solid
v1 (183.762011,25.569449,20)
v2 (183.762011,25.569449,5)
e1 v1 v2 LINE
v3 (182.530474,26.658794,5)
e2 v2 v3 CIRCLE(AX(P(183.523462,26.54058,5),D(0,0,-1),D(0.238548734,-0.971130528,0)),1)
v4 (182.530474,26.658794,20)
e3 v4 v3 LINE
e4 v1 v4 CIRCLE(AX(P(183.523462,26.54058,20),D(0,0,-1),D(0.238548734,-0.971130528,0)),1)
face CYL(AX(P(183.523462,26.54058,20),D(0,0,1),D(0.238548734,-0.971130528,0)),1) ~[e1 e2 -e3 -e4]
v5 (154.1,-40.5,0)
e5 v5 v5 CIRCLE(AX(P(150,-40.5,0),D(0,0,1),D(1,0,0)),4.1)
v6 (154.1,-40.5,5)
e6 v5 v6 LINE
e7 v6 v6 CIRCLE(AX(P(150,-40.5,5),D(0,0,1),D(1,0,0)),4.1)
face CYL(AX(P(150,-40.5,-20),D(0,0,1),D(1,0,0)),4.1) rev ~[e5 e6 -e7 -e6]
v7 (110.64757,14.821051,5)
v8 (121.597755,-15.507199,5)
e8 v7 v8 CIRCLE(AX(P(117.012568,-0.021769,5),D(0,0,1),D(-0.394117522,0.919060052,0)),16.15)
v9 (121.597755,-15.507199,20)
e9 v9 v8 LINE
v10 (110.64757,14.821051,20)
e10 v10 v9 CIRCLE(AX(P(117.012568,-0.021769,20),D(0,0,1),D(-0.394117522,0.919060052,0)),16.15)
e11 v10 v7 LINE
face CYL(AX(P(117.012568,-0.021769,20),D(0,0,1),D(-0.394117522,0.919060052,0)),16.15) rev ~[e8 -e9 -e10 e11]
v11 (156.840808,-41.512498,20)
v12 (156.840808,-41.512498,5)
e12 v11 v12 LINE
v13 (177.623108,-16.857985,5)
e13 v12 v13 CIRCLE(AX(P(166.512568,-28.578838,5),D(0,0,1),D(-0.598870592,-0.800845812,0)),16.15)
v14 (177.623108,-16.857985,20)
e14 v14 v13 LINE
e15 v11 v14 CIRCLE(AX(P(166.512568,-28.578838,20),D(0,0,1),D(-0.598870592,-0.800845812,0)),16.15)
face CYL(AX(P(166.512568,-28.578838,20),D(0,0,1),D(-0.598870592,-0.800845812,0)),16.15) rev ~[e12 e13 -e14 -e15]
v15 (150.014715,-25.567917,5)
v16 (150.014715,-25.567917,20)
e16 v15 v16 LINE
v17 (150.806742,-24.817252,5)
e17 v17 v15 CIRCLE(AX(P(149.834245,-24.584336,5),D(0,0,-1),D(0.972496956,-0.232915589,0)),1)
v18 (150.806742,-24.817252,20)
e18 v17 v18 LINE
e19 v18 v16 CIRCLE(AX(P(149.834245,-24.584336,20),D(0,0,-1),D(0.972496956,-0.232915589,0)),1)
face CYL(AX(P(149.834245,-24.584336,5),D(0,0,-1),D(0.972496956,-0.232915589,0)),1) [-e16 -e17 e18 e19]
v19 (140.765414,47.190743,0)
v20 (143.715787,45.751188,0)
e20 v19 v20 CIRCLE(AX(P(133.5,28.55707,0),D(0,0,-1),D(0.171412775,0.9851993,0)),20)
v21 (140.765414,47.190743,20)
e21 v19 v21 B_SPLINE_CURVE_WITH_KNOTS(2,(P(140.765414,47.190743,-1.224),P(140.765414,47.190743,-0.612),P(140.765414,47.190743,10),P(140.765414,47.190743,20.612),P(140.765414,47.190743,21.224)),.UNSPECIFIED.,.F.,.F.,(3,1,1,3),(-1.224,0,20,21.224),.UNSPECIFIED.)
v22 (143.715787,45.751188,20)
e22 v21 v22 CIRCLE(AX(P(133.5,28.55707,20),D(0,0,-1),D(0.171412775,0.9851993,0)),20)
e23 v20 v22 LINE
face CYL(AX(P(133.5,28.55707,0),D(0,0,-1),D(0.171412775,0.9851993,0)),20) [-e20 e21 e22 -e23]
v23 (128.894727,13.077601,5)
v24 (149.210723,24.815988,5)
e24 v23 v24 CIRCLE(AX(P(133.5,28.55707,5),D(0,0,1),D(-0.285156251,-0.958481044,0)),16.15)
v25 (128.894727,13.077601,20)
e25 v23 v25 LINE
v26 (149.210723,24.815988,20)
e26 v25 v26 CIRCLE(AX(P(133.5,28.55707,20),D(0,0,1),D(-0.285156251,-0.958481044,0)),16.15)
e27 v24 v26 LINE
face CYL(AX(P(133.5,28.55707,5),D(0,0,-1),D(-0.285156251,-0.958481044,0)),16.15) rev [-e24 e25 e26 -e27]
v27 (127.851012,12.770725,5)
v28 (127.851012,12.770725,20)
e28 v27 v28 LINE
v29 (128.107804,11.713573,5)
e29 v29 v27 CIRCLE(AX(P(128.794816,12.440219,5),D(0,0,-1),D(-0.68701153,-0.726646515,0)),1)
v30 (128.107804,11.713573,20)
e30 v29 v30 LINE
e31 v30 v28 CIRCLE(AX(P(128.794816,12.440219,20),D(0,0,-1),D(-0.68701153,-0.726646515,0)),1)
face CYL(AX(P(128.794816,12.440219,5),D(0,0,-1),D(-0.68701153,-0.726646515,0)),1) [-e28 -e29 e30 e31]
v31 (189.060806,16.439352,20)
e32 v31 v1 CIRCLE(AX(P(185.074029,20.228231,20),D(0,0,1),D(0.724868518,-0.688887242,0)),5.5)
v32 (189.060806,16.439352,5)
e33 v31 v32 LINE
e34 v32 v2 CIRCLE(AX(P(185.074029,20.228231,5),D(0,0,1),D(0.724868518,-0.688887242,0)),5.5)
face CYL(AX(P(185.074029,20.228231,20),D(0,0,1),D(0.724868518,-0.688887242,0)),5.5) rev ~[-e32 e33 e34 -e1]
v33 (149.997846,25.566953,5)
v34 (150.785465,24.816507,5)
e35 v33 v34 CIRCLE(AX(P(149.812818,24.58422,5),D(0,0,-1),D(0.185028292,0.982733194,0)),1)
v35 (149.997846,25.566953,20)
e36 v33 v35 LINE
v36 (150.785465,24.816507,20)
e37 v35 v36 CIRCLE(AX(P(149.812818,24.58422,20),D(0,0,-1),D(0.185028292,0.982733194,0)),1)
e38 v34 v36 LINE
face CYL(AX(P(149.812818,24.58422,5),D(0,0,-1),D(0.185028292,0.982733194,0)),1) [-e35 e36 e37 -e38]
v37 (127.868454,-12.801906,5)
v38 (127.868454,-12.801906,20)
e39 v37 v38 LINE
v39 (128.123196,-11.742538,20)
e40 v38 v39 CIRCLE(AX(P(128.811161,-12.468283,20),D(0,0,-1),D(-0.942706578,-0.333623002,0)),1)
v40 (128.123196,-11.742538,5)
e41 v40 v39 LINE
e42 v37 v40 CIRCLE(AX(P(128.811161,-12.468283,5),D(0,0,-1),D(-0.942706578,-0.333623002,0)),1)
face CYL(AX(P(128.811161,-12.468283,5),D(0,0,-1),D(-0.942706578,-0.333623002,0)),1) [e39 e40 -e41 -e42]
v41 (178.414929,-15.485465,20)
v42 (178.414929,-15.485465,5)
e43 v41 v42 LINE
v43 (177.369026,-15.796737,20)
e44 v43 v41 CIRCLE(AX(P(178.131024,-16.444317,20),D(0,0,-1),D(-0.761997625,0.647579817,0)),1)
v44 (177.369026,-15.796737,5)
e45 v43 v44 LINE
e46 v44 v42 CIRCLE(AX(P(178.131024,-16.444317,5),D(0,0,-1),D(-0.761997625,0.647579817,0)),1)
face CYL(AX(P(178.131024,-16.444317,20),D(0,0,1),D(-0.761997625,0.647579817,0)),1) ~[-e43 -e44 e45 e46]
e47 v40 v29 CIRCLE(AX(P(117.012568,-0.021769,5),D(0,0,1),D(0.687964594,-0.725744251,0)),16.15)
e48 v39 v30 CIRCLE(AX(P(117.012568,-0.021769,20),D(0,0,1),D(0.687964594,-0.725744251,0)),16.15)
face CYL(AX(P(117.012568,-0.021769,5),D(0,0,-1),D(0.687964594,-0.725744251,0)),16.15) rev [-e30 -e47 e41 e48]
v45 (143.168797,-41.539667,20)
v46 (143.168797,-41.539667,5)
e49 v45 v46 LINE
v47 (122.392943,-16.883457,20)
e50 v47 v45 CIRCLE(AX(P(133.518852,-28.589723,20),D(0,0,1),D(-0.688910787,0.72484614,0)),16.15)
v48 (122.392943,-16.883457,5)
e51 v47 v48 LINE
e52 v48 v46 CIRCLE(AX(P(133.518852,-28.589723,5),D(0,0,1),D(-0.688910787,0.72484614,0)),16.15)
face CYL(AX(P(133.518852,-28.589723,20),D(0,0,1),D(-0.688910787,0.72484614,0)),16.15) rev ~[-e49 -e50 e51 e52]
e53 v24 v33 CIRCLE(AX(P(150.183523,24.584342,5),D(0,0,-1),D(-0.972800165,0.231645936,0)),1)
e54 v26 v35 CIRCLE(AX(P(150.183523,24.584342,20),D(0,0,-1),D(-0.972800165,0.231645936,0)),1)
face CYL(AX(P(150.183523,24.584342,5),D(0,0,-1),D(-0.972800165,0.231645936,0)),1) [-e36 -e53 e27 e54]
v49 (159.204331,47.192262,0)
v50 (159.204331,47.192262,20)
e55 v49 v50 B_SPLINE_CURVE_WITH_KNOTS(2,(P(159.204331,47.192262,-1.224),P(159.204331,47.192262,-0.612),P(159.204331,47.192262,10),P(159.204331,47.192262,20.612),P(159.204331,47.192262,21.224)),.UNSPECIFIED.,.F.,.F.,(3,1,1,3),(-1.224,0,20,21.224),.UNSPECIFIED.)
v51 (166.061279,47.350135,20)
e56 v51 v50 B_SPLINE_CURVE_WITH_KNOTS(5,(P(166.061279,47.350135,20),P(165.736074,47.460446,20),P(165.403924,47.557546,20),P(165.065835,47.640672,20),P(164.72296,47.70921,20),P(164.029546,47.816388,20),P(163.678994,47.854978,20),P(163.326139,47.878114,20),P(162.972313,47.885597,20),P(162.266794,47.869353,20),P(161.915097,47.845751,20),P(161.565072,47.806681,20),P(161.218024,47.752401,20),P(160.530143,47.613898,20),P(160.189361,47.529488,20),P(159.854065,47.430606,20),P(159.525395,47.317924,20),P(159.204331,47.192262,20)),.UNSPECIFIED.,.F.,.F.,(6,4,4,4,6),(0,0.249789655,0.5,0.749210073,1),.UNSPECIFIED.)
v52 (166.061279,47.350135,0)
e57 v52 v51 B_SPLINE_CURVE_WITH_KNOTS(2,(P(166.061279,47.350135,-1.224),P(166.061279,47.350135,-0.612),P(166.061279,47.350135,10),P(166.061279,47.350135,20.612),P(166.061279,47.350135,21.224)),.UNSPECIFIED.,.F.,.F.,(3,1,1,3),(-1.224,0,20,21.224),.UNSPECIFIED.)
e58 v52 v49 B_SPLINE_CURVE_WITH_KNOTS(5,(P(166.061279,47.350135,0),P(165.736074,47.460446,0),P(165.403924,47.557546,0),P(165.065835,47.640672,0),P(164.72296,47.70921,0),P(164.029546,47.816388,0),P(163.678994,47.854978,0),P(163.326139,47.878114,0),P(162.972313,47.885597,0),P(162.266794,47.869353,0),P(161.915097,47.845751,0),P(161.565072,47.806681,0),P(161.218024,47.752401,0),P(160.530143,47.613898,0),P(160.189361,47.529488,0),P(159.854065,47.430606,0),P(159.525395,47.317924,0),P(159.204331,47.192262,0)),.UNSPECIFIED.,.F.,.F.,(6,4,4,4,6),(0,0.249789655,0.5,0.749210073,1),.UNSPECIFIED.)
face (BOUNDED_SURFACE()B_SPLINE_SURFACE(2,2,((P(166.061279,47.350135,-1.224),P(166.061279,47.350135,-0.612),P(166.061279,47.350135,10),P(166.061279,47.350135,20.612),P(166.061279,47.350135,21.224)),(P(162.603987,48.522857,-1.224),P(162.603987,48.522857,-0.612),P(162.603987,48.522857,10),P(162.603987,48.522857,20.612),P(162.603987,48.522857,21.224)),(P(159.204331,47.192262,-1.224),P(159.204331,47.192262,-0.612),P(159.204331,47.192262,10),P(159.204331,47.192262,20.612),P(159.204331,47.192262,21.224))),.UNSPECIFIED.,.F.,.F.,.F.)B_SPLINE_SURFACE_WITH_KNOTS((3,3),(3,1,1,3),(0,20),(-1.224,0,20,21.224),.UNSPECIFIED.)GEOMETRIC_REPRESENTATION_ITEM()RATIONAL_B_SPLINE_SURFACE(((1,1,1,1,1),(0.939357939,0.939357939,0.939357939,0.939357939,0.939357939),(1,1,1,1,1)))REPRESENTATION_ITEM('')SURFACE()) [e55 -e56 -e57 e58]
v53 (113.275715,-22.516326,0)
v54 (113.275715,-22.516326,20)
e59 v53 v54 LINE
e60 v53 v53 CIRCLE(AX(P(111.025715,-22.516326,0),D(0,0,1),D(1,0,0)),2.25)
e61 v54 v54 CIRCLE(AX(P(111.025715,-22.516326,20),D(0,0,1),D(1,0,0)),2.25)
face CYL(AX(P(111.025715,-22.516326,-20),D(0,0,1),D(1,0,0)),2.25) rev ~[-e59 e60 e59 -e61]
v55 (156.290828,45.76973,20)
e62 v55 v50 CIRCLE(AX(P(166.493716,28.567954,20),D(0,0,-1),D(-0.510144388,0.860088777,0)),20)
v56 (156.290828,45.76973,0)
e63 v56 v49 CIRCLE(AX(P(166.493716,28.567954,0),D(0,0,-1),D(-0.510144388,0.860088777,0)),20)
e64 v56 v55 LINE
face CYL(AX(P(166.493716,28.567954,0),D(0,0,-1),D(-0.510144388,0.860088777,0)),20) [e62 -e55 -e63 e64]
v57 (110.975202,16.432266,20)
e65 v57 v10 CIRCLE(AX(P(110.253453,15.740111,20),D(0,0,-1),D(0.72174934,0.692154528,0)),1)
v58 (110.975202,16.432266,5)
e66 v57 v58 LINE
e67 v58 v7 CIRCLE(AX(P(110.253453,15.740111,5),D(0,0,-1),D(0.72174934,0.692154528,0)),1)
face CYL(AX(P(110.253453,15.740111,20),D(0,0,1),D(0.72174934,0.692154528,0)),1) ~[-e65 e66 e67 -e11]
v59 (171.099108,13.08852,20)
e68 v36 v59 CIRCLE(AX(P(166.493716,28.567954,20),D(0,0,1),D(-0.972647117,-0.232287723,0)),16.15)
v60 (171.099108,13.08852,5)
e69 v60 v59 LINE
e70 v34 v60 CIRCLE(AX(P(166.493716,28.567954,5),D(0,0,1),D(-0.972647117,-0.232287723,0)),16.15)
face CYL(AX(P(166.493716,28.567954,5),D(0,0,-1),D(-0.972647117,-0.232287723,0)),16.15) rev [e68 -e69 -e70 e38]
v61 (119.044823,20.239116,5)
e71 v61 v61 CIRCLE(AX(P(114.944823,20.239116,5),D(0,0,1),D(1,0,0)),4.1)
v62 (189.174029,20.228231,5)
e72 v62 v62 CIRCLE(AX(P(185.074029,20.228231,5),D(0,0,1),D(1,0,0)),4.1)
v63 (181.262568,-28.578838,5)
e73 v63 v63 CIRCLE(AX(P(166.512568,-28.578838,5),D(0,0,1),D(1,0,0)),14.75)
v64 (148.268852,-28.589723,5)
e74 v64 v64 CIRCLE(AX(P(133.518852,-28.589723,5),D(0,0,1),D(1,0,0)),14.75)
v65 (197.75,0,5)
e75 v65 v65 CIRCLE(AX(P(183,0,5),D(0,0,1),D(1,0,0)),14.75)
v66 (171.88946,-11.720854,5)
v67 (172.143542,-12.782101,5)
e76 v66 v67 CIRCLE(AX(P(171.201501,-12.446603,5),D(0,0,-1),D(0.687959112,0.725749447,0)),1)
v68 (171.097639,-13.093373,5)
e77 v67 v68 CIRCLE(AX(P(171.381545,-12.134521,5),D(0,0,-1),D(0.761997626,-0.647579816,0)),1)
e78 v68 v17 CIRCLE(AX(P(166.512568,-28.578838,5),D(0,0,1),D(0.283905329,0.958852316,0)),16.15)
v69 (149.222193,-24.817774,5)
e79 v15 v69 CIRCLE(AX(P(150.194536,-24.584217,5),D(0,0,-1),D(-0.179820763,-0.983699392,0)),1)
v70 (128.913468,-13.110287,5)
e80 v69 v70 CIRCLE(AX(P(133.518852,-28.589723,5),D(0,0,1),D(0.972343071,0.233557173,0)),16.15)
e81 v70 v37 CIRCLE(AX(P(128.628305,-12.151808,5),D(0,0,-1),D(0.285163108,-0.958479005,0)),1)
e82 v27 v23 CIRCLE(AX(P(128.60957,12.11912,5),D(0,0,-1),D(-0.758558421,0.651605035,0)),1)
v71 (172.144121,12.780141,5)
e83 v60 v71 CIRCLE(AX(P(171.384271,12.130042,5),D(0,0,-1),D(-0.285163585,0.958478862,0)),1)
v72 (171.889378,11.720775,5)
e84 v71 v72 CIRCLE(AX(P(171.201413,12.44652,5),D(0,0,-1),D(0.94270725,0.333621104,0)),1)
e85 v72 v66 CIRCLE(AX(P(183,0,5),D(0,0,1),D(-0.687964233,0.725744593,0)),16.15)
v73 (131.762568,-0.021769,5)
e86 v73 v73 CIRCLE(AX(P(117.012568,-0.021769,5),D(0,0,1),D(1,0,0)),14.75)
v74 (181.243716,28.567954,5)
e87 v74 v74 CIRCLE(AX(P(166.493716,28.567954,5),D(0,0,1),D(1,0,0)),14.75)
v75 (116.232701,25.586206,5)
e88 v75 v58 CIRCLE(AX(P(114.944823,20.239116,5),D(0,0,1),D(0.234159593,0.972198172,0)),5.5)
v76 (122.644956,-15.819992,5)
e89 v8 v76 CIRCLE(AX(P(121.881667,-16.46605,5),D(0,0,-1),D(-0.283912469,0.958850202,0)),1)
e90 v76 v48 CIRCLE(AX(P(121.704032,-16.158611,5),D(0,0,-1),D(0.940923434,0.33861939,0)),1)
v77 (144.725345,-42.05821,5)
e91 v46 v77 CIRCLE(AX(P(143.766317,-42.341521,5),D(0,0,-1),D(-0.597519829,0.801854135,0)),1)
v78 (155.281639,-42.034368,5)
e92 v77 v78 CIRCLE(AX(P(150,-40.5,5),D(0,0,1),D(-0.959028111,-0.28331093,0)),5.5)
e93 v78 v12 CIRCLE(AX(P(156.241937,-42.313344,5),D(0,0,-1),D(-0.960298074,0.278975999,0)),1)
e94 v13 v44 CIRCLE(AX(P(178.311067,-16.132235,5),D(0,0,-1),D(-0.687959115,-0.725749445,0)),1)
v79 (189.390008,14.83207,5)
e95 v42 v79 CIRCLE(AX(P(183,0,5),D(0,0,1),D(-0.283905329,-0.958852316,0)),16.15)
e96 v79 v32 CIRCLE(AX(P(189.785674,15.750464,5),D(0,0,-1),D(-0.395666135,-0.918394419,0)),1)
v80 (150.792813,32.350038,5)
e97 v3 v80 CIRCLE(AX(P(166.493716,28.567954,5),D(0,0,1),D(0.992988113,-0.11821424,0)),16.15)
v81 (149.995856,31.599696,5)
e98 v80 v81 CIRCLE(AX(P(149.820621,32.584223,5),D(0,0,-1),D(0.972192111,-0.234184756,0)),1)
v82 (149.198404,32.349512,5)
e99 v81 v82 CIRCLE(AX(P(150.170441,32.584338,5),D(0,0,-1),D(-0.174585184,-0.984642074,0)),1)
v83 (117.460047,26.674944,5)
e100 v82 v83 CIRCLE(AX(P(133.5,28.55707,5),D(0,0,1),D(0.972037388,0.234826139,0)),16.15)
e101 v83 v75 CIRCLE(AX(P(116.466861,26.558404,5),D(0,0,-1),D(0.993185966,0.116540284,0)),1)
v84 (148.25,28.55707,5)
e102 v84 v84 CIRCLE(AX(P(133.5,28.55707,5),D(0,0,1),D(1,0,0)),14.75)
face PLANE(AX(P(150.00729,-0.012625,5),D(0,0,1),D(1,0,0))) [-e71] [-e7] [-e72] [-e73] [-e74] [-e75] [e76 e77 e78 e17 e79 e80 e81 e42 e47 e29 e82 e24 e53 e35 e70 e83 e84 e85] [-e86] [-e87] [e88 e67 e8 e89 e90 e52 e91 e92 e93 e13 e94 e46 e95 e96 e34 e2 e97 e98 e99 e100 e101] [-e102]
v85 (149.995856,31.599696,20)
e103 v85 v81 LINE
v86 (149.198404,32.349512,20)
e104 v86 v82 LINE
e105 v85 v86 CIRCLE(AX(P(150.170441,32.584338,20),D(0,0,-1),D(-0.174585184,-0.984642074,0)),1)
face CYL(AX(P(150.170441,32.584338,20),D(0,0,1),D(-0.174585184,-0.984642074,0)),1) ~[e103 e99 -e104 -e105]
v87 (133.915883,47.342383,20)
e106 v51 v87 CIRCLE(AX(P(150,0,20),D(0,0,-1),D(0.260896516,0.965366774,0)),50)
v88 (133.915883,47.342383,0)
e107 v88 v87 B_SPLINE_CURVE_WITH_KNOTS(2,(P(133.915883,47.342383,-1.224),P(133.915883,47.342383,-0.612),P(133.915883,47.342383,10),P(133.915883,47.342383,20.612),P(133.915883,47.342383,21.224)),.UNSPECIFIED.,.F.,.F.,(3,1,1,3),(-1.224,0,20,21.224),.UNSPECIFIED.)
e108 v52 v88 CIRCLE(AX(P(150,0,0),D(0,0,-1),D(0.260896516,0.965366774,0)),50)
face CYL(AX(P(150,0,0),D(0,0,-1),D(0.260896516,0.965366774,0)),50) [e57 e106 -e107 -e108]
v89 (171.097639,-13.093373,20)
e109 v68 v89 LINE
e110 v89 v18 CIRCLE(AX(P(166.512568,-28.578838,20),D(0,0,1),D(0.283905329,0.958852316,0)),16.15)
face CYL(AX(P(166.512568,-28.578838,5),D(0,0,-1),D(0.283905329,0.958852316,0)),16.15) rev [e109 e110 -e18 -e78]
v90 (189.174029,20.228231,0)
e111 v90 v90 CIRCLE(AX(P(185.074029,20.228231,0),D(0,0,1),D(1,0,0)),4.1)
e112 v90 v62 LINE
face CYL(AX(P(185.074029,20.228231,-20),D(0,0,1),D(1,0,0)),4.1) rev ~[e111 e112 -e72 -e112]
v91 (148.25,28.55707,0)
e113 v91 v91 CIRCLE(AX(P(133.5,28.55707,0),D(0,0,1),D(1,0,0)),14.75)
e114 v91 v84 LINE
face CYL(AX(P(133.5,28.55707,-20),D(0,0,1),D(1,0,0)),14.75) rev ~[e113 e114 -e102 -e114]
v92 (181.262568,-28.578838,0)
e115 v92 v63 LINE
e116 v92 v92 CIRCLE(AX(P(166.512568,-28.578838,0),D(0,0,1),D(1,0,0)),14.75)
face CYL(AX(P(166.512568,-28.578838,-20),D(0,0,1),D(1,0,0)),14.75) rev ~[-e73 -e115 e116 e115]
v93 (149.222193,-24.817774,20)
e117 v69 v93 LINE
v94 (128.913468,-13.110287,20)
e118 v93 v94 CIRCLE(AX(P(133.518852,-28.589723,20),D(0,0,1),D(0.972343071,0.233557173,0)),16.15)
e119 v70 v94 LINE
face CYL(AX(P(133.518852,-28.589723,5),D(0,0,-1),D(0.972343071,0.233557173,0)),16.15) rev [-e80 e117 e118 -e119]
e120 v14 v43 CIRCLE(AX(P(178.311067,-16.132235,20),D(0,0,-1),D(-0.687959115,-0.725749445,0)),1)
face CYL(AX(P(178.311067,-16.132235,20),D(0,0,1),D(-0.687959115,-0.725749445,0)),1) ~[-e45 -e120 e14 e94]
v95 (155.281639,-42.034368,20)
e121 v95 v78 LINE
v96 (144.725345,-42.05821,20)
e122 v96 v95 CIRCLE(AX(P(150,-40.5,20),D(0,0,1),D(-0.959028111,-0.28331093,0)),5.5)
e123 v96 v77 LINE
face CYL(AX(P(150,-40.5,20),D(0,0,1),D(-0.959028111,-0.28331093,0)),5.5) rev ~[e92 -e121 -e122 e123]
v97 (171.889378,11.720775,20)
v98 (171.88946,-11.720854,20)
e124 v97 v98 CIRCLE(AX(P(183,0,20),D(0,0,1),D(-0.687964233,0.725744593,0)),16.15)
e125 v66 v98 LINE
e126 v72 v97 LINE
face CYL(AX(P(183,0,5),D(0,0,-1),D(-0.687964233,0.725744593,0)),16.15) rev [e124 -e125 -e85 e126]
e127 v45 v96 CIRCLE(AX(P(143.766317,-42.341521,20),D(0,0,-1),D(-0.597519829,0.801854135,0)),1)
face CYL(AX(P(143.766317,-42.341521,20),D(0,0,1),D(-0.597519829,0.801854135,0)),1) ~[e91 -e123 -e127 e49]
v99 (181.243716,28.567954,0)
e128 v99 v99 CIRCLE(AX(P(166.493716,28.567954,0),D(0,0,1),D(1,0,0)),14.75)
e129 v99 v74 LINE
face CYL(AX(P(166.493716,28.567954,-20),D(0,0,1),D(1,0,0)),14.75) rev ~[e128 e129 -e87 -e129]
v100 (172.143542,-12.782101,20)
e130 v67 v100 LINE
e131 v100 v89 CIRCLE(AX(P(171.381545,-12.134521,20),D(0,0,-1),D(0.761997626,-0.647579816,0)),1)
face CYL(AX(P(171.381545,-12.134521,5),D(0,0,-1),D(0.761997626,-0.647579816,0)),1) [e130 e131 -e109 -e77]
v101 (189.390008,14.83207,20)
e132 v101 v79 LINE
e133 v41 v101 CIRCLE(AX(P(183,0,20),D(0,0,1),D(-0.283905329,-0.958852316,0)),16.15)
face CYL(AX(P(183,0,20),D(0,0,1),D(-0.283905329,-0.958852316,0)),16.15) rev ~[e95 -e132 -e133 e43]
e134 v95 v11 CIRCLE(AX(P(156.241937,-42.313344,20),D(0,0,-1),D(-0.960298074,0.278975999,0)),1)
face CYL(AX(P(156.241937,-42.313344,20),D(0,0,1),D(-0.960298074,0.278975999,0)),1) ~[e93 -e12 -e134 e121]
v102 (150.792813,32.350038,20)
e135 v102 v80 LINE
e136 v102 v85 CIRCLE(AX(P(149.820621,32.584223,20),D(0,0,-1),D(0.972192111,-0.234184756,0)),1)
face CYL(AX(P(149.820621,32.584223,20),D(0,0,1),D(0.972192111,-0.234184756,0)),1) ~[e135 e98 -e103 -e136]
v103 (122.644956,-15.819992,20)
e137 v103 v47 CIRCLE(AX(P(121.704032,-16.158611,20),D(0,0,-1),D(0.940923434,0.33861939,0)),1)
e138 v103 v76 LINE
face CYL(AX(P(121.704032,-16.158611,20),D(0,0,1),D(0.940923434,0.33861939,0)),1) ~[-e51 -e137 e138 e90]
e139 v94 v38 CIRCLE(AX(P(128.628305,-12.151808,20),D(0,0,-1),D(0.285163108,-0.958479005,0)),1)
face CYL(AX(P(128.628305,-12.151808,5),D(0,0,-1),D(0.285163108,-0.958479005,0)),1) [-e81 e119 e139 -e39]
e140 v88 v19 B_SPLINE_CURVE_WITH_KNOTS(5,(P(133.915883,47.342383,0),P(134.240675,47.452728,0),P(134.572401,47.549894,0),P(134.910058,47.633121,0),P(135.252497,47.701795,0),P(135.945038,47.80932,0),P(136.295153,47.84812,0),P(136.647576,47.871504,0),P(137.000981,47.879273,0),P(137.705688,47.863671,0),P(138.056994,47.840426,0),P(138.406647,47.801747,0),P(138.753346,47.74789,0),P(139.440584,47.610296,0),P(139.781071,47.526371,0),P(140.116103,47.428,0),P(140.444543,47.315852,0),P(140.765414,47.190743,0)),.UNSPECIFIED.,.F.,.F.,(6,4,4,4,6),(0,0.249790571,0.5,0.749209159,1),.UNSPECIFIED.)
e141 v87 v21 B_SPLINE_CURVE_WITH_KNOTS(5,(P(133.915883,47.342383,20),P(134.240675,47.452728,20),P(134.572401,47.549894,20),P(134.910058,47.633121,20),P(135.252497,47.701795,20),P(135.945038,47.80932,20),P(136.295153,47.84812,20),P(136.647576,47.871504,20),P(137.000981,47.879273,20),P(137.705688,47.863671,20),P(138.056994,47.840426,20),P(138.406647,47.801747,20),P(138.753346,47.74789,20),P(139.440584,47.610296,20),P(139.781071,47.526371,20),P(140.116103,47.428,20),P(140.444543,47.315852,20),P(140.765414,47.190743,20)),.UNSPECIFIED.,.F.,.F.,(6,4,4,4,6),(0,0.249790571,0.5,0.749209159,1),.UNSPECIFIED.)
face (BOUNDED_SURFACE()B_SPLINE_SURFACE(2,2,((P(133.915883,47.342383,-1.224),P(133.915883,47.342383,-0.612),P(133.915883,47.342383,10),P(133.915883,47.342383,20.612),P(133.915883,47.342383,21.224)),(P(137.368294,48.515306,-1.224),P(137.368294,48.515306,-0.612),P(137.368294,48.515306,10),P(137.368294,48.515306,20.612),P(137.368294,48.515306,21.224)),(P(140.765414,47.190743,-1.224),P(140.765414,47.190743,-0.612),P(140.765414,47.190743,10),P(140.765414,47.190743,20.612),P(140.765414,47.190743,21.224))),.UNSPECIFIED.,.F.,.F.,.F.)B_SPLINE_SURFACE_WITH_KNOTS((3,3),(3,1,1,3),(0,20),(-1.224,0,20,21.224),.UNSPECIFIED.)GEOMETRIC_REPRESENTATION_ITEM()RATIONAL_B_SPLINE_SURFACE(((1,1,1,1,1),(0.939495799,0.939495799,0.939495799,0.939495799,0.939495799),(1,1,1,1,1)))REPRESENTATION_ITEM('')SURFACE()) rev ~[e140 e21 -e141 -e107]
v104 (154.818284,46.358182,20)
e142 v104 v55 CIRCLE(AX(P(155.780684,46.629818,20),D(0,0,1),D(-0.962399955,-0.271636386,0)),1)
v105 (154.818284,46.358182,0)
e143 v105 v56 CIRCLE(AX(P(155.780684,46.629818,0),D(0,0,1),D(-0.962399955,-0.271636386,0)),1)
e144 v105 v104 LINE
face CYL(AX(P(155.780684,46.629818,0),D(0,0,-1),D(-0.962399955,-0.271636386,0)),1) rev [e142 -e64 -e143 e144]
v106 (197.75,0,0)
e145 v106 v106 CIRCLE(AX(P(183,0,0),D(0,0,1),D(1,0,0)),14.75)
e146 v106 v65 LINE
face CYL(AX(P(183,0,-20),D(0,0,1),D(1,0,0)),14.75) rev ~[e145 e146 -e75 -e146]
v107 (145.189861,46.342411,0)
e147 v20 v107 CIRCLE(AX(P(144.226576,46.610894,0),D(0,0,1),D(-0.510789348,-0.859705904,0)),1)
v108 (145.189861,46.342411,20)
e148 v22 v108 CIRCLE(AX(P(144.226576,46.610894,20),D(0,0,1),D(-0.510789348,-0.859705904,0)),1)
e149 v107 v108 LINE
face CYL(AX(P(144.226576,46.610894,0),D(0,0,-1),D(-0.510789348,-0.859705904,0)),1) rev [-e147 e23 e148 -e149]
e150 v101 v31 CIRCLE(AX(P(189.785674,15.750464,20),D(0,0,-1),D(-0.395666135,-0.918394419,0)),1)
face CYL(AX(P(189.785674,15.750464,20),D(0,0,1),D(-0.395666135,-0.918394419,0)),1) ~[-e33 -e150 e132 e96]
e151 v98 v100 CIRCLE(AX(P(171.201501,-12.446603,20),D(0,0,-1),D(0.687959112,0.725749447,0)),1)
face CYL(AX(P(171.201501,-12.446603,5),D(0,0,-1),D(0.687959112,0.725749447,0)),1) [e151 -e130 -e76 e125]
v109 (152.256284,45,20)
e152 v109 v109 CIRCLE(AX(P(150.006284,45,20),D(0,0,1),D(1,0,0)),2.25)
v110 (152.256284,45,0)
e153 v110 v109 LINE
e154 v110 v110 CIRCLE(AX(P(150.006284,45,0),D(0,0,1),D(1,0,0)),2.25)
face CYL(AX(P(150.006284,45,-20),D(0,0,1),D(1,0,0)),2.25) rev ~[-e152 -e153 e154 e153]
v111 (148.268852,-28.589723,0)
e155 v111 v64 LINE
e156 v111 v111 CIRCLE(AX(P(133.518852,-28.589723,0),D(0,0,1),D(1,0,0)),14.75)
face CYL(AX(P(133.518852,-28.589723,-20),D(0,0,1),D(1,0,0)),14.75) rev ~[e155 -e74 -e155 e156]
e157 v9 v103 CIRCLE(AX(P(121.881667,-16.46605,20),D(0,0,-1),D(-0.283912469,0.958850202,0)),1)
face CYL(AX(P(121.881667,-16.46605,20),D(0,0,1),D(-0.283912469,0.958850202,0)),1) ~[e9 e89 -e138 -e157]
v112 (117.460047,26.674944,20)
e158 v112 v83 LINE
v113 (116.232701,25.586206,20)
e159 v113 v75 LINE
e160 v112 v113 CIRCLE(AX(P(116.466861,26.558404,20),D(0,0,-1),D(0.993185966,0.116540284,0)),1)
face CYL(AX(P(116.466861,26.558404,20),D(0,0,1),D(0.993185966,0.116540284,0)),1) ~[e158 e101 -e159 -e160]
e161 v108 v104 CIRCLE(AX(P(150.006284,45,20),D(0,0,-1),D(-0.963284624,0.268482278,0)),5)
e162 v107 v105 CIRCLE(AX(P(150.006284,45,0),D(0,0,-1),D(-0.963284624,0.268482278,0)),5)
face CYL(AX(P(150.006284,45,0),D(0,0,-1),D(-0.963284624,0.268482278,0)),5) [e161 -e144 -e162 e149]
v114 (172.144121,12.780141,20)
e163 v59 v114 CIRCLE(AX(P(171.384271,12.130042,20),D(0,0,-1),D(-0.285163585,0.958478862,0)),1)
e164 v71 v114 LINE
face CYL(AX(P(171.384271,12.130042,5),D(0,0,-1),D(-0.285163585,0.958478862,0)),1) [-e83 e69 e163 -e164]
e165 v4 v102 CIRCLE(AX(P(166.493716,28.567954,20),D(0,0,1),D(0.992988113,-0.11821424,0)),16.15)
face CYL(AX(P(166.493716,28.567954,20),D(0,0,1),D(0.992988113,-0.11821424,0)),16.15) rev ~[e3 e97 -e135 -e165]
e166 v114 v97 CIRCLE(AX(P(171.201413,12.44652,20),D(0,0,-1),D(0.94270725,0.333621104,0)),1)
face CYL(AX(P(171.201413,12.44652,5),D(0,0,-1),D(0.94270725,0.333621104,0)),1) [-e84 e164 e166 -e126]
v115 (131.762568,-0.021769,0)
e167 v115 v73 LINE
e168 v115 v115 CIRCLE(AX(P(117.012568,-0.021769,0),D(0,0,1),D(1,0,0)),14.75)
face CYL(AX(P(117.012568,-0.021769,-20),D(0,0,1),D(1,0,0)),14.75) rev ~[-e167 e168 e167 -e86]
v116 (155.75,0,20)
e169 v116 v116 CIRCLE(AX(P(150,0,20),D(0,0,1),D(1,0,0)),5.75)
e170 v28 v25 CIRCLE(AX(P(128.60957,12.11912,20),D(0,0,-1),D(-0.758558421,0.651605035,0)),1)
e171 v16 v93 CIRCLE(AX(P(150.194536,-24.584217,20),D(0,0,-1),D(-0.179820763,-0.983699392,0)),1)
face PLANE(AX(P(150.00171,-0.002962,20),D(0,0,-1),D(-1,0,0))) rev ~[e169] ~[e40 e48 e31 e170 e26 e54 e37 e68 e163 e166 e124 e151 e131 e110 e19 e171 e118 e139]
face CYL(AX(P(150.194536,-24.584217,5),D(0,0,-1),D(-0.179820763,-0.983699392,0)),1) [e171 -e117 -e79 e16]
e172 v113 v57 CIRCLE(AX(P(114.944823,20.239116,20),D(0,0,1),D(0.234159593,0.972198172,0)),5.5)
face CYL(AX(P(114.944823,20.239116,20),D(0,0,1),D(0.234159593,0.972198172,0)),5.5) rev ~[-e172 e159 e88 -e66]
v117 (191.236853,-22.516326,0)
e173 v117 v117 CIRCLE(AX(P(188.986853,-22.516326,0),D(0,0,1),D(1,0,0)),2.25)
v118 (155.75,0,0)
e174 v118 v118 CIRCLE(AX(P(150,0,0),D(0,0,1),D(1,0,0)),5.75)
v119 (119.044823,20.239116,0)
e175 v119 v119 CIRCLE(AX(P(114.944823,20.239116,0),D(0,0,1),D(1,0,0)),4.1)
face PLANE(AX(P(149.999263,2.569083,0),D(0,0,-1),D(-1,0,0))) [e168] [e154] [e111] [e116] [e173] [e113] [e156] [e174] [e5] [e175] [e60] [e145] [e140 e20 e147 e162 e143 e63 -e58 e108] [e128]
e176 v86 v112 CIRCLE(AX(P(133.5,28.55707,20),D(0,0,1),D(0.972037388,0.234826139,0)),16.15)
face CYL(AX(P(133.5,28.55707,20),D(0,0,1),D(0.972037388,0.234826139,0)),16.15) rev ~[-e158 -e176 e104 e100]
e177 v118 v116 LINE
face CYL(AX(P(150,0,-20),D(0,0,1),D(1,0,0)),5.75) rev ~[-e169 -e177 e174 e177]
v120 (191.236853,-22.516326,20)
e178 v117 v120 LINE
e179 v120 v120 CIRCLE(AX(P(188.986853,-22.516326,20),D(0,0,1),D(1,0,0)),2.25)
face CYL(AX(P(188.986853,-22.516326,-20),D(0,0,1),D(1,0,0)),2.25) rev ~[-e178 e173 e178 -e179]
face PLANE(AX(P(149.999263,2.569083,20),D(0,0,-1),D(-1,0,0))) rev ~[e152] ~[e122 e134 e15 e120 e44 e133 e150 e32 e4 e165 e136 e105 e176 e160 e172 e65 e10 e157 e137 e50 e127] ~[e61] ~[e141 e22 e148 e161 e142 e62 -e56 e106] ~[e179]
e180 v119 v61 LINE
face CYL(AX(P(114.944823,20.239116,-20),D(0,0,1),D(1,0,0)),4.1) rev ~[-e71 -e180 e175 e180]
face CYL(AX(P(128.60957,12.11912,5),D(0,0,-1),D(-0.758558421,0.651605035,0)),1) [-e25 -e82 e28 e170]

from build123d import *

# Parameters (mm, degrees)
EXTRUDE_1_DEPTH               = 20
CUT_EXTRUDE_1_DEPTH           = 15
EXTRUDE_2_DEPTH               = 15
HOLE_WIZARD_11_5_11_5_1_D     = 11.5
HOLE_WIZARD_11_5_11_5_1_DEPTH = 20
HOLE_WIZARD_4_5_4_5_1_D       = 4.5
HOLE_WIZARD_4_5_4_5_1_DEPTH   = 20
HOLE_WIZARD_8_2_8_2_1_D       = 8.2
HOLE_WIZARD_8_2_8_2_1_DEPTH   = 20
HOLE_WIZARD_M27_1_D           = 29.5
HOLE_WIZARD_M27_1_DEPTH       = 20
FILLET_1_R                    = 10


with BuildPart() as part:
    # 草图1 → 凸台-拉伸1 (new body)
    with BuildSketch(Plane(origin=(0, 0, 0), x_dir=(-1, 0, 0), z_dir=(0, 0, -1))):
        with BuildLine():
            ThreePointArc((-163.044825793, 48.268338691), (-150.013943269, -49.999998056), (-136.9282555, 48.261055684))
            ThreePointArc((-136.9282555, 48.261055684), (-140.436485638, 47.315672166), (-143.715786974, 45.751187764))
            ThreePointArc((-143.715786974, 45.751187764), (-144.598832064, 45.682763471), (-145.189860946, 46.34241139))
            ThreePointArc((-145.189860946, 46.34241139), (-149.9980945, 49.999993293), (-154.818283841, 46.35818193))
            ThreePointArc((-154.818283841, 46.35818193), (-155.409600478, 45.701218741), (-156.290828184, 45.76972954))
            ThreePointArc((-156.290828184, 45.76972954), (-159.554442065, 47.325525228), (-163.044825793, 48.268338691))
        make_face()
    extrude(amount=-EXTRUDE_1_DEPTH)

    # 草图2 → 切除-拉伸1 (cut)
    with BuildSketch(Plane.XY.offset(20)):
        with BuildLine():
            ThreePointArc((182.530473967, 26.658794029), (169.344288449, 44.464391856), (150.792813346, 32.350037808))
            ThreePointArc((150.792813346, 32.350037808), (150.506114031, 31.856143154), (149.995856029, 31.599695892))
            ThreePointArc((149.995856029, 31.599695892), (149.485428939, 31.855806439), (149.198403823, 32.349511827))
            ThreePointArc((149.198403823, 32.349511827), (130.657581348, 44.454967541), (117.460046658, 26.674944082))
            ThreePointArc((117.460046658, 26.674944082), (117.13046307, 25.810318318), (116.2327011, 25.586205625))
            ThreePointArc((116.2327011, 25.586205625), (110.175484721, 22.978350815), (110.975201971, 16.432265779))
            ThreePointArc((110.975201971, 16.432265779), (111.233397945, 15.540844642), (110.647570153, 14.821051199))
            ThreePointArc((110.647570153, 14.821051199), (101.822353243, -5.506280624), (121.597754537, -15.507199392))
            ThreePointArc((121.597754537, -15.507199392), (122.167866534, -15.507879551), (122.644955628, -15.819991947))
            ThreePointArc((122.644955628, -15.819991947), (122.677083904, -16.389198347), (122.392942981, -16.883457477))
            ThreePointArc((122.392942981, -16.883457477), (121.168678782, -38.996245439), (143.168797451, -41.539666912))
            ThreePointArc((143.168797451, -41.539666912), (144.082377122, -41.39278179), (144.725345392, -42.058210116))
            ThreePointArc((144.725345392, -42.058210116), (150.012422097, -45.999985972), (155.281639409, -42.034367999))
            ThreePointArc((155.281639409, -42.034367999), (155.924534771, -41.365053158), (156.840808075, -41.512498187))
            ThreePointArc((156.840808075, -41.512498187), (178.860797944, -38.987667291), (177.623107818, -16.85798478))
            ThreePointArc((177.623107818, -16.85798478), (177.338551357, -16.365073167), (177.369025987, -15.796737408))
            ThreePointArc((177.369025987, -15.796737408), (177.845776872, -15.485863106), (178.414928942, -15.485464907))
            ThreePointArc((178.414928942, -15.485464907), (198.1856076, -5.497255844), (189.390008085, 14.832069871))
            ThreePointArc((189.390008085, 14.832069871), (188.806012002, 15.549810513), (189.060805702, 16.439351532))
            ThreePointArc((189.060805702, 16.439351532), (189.830945377, 22.988982198), (183.762010815, 25.569449262))
            ThreePointArc((183.762010815, 25.569449262), (182.860919479, 25.791555557), (182.530473967, 26.658794029))
        make_face()
    extrude(amount=-CUT_EXTRUDE_1_DEPTH, mode=Mode.SUBTRACT)

    # 草图3 → 凸台-拉伸2 (add)
    with BuildSketch(Plane.XY.offset(5)):
        with BuildLine():
            ThreePointArc((150.806742296, -24.817251573), (150.522146149, -25.310140695), (150.014715092, -25.56791652))
            ThreePointArc((150.014715092, -25.56791652), (149.507114069, -25.310475545), (149.222192785, -24.817774301))
            ThreePointArc((149.222192785, -24.817774301), (141.584673617, -14.598117133), (128.913467977, -13.110286731))
            ThreePointArc((128.913467977, -13.110286731), (128.345273464, -13.110918369), (127.868454338, -12.801905545))
            ThreePointArc((127.868454338, -12.801905545), (127.838876563, -12.234481049), (128.123196321, -11.742538289))
            ThreePointArc((128.123196321, -11.742538289), (133.162564653, -0.011170953), (128.107804336, 11.71357258))
            ThreePointArc((128.107804336, 11.71357258), (127.823073861, 12.2041736), (127.851011875, 12.770724808))
            ThreePointArc((127.851011875, 12.770724808), (128.32748764, 13.078509879), (128.894726547, 13.077600818))
            ThreePointArc((128.894726547, 13.077600818), (141.579615252, 14.573425047), (149.210722651, 24.815987784))
            ThreePointArc((149.210722651, 24.815987784), (149.493229963, 25.307871928), (149.997846175, 25.566952748))
            ThreePointArc((149.997846175, 25.566952748), (150.502633213, 25.30820492), (150.785465, 24.816507277))
            ThreePointArc((150.785465, 24.816507277), (158.418767714, 14.58161384), (171.099107848, 13.088520381))
            ThreePointArc((171.099107848, 13.088520381), (171.667301632, 13.089152517), (172.144120652, 12.78014087))
            ThreePointArc((172.144120652, 12.78014087), (172.173697461, 12.212717053), (171.889377635, 11.720775173))
            ThreePointArc((171.889377635, 11.720775173), (166.85, -5.6959e-05), (171.889460311, -11.720853545))
            ThreePointArc((171.889460311, -11.720853545), (172.174016773, -12.213765158), (172.143542142, -12.782100917))
            ThreePointArc((172.143542142, -12.782100917), (171.666791258, -13.092975219), (171.097639187, -13.093373418))
            ThreePointArc((171.097639187, -13.093373418), (158.432956354, -14.595191678), (150.806742296, -24.817251573))
        make_face()
    extrude(amount=EXTRUDE_2_DEPTH)

    # Ø11.5 (11.5) 直径孔1
    with Locations(Plane(origin=(0, 0, 0), x_dir=(-1, 0, 0), z_dir=(0, 0, -1))):
        with Locations((-150, 0)):
            Hole(HOLE_WIZARD_11_5_11_5_1_D / 2, depth=HOLE_WIZARD_11_5_11_5_1_DEPTH)

    # Ø4.5 (4.5) 直径孔1
    with Locations(Plane(origin=(0, 0, 0), x_dir=(-1, 0, 0), z_dir=(0, 0, -1))):
        with Locations((-150.006284065, 45), (-111.025714797, -22.516326479), (-188.986853332, -22.516326479)):
            Hole(HOLE_WIZARD_4_5_4_5_1_D / 2, depth=HOLE_WIZARD_4_5_4_5_1_DEPTH)

    # Ø8.2 (8.2) 直径孔1
    with Locations(Plane(origin=(0, 0, 0), x_dir=(-1, 0, 0), z_dir=(0, 0, -1))):
        with Locations((-150, -40.5), (-114.944823341, 20.23911568), (-185.074028853, 20.228231361)):
            Hole(HOLE_WIZARD_8_2_8_2_1_D / 2, depth=HOLE_WIZARD_8_2_8_2_1_DEPTH)

    # M27 间隙孔1
    with Locations(Plane(origin=(0, 0, 0), x_dir=(-1, 0, 0), z_dir=(0, 0, -1))):
        with Locations((-183, 0), (-166.51256813, -28.578838325), (-133.518852195, -28.589722645), (-166.493715935, 28.567954005), (-117.01256813, -0.021768639), (-133.5, 28.557069686)):
            Hole(HOLE_WIZARD_M27_1_D / 2, depth=HOLE_WIZARD_M27_1_DEPTH)

    # 圆角1
    fillet_1_edges = [part.edges().sort_by_distance(p)[0] for p in [
        (136.9282555, 48.261055684, 10),
        (163.044825793, 48.268338691, 10),
    ]]
    fillet(fillet_1_edges, radius=FILLET_1_R)


solid = part.part
